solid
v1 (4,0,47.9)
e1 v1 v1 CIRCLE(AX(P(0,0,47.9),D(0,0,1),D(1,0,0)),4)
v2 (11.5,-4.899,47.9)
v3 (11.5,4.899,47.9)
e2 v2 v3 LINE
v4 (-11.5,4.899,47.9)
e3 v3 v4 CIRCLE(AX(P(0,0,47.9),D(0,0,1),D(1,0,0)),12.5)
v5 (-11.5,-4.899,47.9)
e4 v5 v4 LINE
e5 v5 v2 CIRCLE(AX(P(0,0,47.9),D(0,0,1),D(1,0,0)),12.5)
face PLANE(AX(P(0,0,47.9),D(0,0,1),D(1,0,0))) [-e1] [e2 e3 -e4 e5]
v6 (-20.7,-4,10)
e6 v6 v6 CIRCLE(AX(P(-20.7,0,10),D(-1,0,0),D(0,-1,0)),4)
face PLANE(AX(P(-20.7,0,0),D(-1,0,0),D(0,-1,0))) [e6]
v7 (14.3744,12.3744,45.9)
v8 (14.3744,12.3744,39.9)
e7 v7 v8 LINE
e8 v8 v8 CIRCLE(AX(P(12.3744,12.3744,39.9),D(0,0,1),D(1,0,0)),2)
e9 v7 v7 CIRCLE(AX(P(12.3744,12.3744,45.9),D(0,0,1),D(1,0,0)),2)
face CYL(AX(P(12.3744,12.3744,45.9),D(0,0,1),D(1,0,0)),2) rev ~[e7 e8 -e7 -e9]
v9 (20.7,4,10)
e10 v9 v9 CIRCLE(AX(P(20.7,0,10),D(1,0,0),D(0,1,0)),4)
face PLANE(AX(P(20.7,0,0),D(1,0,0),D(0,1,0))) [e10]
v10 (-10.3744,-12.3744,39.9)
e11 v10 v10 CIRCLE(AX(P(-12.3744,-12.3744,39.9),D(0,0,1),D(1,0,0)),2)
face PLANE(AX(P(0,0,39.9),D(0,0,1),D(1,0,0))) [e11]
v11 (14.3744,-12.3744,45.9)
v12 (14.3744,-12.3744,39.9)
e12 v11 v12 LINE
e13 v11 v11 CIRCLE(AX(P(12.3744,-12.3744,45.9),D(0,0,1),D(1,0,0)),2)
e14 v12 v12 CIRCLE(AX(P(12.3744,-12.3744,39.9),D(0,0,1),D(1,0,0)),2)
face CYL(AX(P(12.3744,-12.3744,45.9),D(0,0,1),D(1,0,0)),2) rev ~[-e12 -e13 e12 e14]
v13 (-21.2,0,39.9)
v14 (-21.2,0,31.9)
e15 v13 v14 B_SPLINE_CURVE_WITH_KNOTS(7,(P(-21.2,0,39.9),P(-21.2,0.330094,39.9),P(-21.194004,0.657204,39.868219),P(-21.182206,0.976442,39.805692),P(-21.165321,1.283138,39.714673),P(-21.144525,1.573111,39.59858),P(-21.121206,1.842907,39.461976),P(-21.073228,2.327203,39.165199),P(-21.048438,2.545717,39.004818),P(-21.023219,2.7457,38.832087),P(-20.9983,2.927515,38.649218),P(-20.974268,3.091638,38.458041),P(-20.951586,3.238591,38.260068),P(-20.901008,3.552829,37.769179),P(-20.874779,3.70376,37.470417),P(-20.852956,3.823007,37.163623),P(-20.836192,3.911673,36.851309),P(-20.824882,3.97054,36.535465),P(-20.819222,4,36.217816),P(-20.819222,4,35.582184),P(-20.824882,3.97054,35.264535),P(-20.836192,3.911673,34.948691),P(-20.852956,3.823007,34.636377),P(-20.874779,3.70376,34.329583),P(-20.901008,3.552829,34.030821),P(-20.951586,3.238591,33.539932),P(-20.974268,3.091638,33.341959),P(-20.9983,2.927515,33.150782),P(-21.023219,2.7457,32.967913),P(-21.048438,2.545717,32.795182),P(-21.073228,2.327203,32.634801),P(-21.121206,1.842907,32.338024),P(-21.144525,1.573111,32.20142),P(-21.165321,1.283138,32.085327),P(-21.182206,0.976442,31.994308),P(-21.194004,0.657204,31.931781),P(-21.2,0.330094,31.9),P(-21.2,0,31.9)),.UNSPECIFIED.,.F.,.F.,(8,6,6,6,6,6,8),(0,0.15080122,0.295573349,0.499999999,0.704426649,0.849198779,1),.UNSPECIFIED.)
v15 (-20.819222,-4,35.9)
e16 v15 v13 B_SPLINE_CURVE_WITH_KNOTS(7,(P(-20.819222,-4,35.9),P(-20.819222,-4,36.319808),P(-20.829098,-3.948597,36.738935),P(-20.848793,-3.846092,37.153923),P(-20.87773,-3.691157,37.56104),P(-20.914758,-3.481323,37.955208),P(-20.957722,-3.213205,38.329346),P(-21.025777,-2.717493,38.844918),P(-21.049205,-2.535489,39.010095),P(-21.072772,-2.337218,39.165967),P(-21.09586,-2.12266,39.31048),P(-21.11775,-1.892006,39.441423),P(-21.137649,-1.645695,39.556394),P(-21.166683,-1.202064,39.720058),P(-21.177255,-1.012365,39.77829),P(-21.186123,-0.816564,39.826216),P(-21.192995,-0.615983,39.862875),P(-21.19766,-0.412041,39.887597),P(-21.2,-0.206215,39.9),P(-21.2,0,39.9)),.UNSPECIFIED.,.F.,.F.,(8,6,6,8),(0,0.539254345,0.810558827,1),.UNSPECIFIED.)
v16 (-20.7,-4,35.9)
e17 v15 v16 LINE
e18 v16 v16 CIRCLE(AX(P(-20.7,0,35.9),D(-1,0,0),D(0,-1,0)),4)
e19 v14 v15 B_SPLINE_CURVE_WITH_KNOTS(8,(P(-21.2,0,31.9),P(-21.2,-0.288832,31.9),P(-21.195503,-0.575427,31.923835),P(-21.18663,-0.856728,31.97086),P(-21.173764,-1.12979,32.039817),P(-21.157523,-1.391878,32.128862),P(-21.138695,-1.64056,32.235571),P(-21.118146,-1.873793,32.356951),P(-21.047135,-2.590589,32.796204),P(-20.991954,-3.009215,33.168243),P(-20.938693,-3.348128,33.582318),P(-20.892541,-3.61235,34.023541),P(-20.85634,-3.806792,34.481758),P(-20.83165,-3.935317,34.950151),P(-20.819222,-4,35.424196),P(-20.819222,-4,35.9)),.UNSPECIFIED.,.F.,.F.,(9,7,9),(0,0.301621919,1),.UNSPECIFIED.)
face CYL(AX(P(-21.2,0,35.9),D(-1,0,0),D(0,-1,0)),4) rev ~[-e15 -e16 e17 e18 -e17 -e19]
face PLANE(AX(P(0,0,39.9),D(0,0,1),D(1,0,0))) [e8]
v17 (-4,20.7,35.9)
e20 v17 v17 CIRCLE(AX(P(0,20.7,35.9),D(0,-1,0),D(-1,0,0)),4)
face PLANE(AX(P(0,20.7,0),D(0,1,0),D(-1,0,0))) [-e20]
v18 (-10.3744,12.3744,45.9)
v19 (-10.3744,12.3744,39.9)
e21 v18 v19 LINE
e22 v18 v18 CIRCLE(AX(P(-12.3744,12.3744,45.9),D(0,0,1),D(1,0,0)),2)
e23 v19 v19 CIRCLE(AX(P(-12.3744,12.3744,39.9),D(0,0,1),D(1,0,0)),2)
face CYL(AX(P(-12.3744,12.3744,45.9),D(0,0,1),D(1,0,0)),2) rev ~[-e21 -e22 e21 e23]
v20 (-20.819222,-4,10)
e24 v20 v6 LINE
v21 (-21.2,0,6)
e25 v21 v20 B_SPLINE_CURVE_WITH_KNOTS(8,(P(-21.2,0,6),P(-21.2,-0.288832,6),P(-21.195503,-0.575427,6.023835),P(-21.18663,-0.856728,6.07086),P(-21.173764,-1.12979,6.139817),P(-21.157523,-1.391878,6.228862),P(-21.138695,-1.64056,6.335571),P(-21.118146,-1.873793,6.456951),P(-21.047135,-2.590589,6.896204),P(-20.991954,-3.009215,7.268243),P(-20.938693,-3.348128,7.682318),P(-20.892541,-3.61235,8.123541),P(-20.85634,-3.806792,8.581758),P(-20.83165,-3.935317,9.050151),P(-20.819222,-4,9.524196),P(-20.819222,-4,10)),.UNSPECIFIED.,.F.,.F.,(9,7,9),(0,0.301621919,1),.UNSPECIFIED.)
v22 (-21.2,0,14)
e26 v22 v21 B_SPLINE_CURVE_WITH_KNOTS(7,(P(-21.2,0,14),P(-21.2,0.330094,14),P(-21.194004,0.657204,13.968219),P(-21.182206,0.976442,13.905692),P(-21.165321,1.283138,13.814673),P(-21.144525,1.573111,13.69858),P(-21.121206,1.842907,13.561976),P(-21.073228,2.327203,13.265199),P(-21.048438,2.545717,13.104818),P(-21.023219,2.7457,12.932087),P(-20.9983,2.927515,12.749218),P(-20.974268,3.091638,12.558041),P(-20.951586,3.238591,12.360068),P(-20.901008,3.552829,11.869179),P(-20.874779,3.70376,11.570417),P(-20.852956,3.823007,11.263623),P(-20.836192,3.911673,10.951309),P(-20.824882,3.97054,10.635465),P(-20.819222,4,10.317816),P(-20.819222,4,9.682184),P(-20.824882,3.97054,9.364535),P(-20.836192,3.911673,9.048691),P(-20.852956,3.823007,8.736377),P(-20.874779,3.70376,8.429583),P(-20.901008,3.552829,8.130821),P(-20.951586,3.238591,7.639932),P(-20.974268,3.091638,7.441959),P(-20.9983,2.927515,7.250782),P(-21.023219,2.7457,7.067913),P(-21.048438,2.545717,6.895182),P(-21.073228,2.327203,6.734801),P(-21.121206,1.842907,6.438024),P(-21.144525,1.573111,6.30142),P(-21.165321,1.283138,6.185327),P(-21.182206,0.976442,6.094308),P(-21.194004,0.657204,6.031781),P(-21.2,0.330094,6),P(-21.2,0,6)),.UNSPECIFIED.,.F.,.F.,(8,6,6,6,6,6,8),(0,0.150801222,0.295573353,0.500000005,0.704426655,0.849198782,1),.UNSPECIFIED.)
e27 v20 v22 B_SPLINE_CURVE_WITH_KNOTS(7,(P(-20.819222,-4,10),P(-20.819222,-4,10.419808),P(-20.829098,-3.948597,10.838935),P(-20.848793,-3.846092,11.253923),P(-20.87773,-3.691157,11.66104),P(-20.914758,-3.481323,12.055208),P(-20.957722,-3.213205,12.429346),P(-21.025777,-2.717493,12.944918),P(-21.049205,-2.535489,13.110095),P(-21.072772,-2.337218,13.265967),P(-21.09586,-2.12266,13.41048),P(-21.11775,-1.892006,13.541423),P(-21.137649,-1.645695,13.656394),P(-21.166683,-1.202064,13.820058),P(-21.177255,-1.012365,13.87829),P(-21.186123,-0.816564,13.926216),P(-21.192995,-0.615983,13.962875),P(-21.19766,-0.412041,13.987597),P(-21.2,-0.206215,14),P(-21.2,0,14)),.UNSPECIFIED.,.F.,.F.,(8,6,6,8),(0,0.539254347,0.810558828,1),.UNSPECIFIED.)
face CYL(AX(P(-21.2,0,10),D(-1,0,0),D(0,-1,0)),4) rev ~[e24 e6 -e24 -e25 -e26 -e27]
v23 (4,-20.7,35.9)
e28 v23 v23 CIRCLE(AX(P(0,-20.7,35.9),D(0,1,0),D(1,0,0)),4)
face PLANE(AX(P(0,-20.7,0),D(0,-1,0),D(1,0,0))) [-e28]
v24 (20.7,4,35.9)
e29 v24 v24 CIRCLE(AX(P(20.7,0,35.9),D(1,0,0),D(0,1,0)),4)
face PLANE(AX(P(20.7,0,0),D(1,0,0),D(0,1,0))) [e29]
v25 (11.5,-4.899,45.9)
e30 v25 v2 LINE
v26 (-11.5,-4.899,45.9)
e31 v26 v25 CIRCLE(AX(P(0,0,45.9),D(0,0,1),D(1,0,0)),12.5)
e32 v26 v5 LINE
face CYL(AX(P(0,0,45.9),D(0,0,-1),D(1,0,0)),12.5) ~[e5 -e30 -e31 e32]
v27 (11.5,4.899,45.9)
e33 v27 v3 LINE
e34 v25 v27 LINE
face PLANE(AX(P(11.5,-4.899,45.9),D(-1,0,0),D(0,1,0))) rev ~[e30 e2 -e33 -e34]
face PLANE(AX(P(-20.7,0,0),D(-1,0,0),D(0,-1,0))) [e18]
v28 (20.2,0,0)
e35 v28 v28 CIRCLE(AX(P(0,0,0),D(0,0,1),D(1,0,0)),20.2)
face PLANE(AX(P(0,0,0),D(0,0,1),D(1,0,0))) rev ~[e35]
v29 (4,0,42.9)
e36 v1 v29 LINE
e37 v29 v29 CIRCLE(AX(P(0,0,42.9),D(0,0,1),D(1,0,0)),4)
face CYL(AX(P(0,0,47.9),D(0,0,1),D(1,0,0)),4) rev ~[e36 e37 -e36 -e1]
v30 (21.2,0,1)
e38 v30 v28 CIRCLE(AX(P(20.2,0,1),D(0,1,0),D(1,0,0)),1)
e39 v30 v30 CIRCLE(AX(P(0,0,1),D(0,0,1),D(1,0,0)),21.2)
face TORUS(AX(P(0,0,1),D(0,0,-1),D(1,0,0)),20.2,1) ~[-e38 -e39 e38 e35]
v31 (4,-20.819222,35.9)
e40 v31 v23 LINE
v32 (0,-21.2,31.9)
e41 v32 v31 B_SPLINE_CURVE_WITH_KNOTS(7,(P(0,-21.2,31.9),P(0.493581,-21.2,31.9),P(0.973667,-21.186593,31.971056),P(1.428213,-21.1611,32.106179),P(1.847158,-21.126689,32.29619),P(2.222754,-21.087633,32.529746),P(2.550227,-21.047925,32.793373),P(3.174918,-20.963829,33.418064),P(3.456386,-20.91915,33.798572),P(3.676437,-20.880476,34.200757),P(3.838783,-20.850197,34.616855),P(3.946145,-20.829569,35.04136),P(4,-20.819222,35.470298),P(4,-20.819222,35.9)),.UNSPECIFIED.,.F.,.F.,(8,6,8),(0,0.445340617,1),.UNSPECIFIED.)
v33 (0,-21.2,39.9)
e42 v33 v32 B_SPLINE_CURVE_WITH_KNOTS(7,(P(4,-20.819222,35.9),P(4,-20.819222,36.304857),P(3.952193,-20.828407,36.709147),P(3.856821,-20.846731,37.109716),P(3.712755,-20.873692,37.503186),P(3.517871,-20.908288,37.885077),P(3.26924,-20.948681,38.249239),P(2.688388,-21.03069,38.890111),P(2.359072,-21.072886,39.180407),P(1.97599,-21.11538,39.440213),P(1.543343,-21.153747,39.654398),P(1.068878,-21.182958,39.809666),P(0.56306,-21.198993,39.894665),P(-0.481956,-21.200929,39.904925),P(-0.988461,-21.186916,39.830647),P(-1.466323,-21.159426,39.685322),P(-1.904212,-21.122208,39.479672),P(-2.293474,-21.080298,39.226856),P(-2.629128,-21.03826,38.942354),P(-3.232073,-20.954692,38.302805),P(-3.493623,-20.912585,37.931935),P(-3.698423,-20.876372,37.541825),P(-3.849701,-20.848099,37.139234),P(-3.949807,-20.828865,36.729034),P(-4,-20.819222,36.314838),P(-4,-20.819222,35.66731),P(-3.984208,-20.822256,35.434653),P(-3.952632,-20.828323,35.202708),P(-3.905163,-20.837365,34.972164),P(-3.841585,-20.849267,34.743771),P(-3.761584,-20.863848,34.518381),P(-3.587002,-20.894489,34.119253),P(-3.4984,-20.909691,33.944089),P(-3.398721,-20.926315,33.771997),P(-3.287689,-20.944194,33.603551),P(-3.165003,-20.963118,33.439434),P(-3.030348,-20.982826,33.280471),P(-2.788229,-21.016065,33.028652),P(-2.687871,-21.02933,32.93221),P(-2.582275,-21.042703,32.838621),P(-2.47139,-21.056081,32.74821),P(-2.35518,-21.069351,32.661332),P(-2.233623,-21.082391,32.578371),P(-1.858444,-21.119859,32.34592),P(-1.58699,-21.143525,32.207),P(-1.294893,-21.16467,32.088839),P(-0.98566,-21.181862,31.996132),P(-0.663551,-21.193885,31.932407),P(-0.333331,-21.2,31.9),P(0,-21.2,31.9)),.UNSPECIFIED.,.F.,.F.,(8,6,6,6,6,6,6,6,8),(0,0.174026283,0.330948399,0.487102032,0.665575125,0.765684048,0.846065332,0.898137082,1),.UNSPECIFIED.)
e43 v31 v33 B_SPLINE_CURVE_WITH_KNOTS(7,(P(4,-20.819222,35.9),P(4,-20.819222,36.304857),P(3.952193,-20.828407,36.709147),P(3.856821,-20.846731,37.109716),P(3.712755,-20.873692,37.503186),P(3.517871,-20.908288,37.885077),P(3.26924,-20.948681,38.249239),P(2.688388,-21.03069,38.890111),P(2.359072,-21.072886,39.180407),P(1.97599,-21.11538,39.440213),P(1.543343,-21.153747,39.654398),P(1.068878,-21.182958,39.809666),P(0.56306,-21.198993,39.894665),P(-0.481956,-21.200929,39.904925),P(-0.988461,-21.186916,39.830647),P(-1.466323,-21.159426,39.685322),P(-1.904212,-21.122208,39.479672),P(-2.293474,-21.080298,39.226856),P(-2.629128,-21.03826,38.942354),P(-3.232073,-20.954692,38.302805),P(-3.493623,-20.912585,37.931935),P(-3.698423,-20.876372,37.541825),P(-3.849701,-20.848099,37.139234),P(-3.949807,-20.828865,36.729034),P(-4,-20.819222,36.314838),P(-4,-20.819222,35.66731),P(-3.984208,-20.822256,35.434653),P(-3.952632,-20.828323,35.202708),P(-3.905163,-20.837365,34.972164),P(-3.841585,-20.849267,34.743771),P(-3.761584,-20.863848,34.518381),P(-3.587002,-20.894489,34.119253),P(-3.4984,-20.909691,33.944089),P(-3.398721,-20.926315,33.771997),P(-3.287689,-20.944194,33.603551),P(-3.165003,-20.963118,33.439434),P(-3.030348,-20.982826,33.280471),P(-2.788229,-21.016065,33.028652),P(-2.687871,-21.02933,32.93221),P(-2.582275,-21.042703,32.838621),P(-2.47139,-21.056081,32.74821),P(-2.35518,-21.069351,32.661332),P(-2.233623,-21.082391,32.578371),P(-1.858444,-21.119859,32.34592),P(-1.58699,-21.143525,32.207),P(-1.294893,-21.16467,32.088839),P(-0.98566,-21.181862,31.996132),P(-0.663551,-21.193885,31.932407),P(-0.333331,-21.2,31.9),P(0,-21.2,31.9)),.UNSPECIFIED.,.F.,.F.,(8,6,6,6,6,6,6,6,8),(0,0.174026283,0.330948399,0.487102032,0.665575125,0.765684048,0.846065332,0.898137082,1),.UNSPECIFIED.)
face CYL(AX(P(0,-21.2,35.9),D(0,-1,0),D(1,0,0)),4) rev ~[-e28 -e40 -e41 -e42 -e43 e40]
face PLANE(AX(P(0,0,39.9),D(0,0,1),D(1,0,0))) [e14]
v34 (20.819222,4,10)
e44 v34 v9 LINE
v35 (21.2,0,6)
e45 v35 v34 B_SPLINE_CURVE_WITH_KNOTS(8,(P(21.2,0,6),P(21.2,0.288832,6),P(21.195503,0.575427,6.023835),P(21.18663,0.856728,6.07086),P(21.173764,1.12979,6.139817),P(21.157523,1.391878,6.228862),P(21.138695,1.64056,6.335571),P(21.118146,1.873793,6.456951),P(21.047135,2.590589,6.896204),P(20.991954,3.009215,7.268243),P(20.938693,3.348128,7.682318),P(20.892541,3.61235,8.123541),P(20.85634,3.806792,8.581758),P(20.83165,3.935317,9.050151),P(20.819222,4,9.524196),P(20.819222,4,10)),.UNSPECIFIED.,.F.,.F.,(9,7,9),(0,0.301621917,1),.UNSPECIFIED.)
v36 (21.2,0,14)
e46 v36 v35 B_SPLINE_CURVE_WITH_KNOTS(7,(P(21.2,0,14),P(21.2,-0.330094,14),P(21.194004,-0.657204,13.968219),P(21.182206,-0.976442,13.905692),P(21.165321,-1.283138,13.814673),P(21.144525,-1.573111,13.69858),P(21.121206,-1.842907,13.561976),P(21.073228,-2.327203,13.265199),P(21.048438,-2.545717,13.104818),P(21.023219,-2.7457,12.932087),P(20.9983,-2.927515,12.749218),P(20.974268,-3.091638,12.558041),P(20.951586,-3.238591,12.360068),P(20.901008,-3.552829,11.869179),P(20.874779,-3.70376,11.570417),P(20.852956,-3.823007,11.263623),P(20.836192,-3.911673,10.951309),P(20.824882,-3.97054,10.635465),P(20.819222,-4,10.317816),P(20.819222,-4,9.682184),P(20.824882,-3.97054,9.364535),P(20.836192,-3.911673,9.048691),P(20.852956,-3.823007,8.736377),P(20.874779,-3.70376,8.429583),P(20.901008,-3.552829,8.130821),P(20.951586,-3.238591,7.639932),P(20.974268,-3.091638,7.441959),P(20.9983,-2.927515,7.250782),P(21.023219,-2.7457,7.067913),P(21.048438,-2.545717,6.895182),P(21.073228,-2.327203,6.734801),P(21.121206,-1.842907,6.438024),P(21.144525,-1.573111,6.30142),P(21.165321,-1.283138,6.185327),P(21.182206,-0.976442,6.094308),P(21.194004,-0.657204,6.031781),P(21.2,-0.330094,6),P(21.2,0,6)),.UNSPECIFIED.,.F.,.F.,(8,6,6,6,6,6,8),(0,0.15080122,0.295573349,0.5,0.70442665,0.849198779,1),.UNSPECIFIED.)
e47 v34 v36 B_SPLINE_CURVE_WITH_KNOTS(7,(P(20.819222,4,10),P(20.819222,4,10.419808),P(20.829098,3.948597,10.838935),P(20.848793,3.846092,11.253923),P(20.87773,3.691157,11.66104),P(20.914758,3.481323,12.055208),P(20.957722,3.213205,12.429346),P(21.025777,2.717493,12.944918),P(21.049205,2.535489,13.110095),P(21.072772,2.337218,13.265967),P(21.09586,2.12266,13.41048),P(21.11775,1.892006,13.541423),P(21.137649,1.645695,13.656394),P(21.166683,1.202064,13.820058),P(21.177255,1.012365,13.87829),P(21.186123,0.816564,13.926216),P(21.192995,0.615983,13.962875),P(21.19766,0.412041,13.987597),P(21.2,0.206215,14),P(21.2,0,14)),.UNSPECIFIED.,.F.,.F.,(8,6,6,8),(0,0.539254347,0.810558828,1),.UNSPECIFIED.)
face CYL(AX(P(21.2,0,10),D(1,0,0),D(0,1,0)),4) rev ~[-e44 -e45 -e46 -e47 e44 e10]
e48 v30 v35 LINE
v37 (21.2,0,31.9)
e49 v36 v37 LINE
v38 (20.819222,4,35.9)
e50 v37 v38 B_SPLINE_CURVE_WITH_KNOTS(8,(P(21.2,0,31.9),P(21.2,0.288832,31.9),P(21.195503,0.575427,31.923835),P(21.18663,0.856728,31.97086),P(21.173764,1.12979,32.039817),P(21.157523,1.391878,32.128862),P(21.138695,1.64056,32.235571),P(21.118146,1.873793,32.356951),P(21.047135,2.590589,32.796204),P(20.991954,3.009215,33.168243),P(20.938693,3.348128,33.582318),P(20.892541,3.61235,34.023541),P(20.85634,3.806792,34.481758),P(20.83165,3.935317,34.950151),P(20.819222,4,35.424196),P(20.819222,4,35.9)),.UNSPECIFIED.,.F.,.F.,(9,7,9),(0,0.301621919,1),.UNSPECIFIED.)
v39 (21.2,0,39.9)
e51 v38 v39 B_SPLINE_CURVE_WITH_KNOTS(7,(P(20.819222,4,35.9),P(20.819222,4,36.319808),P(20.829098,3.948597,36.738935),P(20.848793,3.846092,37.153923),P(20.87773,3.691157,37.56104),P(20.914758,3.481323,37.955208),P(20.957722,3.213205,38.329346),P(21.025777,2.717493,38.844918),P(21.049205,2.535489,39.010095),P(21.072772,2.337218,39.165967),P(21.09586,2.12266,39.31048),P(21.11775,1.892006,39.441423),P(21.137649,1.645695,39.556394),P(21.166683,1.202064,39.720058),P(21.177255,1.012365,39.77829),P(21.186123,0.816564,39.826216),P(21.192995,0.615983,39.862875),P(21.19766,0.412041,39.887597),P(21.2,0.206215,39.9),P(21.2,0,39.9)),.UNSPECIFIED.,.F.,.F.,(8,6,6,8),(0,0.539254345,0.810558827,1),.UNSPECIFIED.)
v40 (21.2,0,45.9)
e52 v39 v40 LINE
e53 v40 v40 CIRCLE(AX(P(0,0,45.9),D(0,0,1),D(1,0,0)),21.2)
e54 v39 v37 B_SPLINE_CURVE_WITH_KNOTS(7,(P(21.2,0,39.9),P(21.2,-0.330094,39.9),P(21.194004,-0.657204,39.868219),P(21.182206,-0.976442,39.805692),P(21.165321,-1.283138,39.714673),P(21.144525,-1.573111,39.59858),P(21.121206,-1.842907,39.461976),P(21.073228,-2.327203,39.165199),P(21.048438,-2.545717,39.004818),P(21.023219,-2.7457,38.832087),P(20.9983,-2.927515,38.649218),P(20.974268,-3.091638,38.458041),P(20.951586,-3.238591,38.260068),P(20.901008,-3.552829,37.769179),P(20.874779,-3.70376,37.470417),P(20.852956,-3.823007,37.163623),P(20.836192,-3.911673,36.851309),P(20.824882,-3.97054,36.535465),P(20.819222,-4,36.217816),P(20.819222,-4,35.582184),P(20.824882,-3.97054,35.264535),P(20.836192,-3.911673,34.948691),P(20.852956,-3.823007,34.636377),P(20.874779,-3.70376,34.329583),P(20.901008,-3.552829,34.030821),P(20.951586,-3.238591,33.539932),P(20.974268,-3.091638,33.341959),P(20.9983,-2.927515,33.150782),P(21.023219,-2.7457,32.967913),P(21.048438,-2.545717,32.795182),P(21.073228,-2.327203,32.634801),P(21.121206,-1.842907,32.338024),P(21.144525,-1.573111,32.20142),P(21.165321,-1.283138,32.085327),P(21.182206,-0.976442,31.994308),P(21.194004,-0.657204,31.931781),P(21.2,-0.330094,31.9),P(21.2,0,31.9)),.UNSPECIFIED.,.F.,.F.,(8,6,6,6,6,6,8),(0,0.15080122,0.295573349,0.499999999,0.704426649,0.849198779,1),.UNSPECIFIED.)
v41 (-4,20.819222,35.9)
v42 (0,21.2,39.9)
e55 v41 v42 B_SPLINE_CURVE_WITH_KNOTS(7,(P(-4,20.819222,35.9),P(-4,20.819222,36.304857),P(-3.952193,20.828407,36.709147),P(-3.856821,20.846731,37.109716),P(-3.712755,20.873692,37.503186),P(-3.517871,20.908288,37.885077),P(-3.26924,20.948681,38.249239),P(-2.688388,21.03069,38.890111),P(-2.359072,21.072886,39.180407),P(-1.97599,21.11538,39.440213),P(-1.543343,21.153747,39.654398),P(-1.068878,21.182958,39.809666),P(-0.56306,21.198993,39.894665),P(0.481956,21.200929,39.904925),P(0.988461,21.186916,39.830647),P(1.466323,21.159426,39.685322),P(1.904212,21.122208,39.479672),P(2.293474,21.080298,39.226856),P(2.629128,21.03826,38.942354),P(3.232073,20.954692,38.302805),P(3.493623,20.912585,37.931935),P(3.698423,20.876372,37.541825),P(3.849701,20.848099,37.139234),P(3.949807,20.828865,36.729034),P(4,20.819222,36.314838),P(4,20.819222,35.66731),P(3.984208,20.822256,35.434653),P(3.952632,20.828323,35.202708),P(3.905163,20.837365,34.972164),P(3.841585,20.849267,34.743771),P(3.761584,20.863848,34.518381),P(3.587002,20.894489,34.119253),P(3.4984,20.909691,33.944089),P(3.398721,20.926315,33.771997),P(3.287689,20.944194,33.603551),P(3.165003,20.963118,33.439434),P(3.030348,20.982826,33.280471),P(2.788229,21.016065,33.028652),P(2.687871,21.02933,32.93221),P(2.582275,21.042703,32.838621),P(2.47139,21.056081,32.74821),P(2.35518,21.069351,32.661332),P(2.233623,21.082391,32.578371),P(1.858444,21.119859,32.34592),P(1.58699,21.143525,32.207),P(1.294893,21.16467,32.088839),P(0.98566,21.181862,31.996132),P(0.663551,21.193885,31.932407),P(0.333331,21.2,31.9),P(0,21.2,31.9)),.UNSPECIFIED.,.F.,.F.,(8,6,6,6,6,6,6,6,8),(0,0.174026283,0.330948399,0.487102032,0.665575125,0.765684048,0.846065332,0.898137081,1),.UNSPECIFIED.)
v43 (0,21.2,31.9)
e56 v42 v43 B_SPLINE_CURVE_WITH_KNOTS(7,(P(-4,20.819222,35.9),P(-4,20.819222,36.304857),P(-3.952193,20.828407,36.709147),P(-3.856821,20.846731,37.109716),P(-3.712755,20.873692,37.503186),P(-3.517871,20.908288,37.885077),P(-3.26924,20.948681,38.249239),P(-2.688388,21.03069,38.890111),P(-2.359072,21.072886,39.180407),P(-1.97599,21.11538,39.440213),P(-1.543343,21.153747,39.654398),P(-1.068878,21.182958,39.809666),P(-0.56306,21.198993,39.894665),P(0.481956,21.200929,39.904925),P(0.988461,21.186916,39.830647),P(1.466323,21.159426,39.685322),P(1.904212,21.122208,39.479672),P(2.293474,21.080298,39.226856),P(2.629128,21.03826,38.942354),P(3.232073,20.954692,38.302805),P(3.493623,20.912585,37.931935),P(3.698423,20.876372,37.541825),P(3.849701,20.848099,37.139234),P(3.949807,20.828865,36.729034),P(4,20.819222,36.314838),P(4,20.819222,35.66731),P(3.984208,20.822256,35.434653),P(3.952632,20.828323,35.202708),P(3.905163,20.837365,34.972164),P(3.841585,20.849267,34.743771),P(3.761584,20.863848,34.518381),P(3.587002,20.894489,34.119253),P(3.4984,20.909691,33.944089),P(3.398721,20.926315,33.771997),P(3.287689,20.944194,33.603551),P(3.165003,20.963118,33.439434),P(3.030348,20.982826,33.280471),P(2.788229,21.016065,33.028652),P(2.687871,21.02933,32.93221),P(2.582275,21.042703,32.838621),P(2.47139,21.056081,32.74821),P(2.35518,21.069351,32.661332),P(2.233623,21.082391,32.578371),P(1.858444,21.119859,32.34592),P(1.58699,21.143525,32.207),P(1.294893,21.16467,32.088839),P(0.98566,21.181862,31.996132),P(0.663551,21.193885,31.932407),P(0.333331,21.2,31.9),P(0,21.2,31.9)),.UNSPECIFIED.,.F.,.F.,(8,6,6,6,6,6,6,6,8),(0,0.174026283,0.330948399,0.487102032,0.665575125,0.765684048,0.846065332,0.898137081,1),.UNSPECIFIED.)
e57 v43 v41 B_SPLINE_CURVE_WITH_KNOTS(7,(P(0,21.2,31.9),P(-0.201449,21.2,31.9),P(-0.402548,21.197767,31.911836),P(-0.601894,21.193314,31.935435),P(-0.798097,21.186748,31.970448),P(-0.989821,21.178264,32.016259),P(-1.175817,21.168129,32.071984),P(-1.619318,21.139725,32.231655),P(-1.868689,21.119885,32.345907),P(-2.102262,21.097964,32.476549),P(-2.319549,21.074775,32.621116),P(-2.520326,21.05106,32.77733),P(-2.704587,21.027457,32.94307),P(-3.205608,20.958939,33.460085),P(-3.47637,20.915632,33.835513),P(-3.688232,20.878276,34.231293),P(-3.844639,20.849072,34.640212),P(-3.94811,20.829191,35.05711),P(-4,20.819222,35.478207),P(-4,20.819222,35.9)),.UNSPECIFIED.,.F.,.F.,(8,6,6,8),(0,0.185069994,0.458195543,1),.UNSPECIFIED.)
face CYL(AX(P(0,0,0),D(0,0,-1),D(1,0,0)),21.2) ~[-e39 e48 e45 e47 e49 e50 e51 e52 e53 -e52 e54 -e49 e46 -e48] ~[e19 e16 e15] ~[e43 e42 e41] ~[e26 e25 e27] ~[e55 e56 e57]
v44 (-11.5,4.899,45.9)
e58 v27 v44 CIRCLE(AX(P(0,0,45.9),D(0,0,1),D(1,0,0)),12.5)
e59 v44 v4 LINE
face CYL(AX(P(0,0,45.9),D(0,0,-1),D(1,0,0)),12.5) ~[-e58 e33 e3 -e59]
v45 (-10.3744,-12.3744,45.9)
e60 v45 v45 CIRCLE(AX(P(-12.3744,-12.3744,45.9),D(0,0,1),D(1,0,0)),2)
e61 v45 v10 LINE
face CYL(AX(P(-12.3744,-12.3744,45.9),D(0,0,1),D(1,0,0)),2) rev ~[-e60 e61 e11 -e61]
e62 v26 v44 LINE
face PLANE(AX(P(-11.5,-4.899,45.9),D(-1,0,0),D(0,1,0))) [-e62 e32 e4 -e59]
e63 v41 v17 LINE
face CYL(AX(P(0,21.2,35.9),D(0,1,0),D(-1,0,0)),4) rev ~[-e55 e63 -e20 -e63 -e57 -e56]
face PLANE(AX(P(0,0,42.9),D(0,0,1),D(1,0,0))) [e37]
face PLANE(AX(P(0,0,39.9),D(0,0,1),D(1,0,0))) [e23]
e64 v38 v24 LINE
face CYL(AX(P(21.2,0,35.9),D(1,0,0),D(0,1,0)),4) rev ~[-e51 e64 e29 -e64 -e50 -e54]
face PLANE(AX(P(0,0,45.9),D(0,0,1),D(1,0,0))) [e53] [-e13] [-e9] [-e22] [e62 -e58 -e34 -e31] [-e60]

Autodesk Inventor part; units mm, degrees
ref_plane "YZ Plane" through (0, 0, 0) normal (1, 0, 0) x (0, 1, 0)
sketch "스케치1" plane through (0, 0, 0) normal (0, 0, 1) x (1, 0, 0)
  circle A0 centre (0, 0) radius 21.2
  dimension "d0" = 42.4
extrude "돌출1" add sketch "스케치1" along normal blind 45.9
sketch "스케치2" plane through (0, 0, 45.9) normal (0, 0, 1) x (1, 0, 0)
  circle A0 centre (0, 0) radius 12.5
  line L0 (-11.5, -4.899) -> (-11.5, 4.899)
  line L1 (11.5, -4.899) -> (11.5, 4.899)
  line L2 (0, 0) -> (17.5, 0) construction
  circle A1 centre (12.3744, -12.3744) radius 2
  circle A2 centre (12.3744, 12.3744) radius 2
  circle A3 centre (-12.3744, 12.3744) radius 2
  circle A4 centre (-12.3744, -12.3744) radius 2
  dimension "d5" = 360
extrude "돌출2" cut sketch "스케치2" against normal blind 6 contours A1 | A2 | A3 | A4
sketch "스케치3" plane through (0, 0, 45.9) normal (0, 0, 1) x (1, 0, 0)
  circle A0 centre (0, 0) radius 12.5
  line L0 (-11.5, -4.899) -> (-11.5, 4.899)
  line L1 (11.5, -4.899) -> (11.5, 4.899)
  line L2 (0, 0) -> (17.5, 0) construction
  circle A1 centre (12.3744, -12.3744) radius 2
  circle A2 centre (12.3744, 12.3744) radius 2
  circle A3 centre (-12.3744, 12.3744) radius 2
  circle A4 centre (-12.3744, -12.3744) radius 2
  dimension "d10" = 360
extrude "돌출3" add sketch "스케치3" along normal blind 2 contours L1 A0 L0
sketch "스케치4" plane through (0, 0, 47.9) normal (0, 0, 1) x (1, 0, 0)
  circle A0 centre (0, 0) radius 4
  dimension "d13" = 8
extrude "돌출4" cut sketch "스케치4" against normal blind 5
ref_plane "작업 평면1" through (21.2, 0, 0) normal (1, 0, 0) x (0, 1, 0)
sketch "스케치5" plane through (21.2, 0, 0) normal (1, 0, 0) x (0, 1, 0)
  line L0 (21.2, 45.9) -> (-21.2, 45.9) projected
  line L1 (21.2, 0) -> (-21.2, 0) projected
  line L2 (-4.899, 45.9) -> (4.899, 45.9) projected
  line L3 (0, 45.9) -> (0, 35.9)
  line L4 (0, 35.9) -> (0, 10)
  circle A0 centre (0, 10) radius 4
  circle A1 centre (0, 35.9) radius 4
  point P0 (0, 0)
  dimension "d16" = 10
  dimension "d17" = 25.9
  dimension "d18" = 8
extrude "돌출5" cut sketch "스케치5" against normal blind 0.5
ref_plane "작업 평면5" through (0, 21.2, 0) normal (0, 1, 0) x (-1, 0, 0)
sketch "스케치7" plane through (0, 21.2, 0) normal (0, 1, 0) x (-1, 0, 0)
  line L0 (0, 0) -> (0, 35.9)
  line L1 (-11.5, 45.9) -> (11.5, 45.9) projected
  circle A0 centre (0, 35.9) radius 4
  dimension "d28" = 35.9
  dimension "d29" = 8
extrude "돌출7" cut sketch "스케치7" against normal blind 0.5
pattern_circular "원형 패턴2" count 2 over 360 about axis through (0, 0, 0) along (0, 0, 1) of "돌출5", "돌출7"
fillet "모깎기1" radius 1 1 edges at (-21.2, 0, 0)
properties part number "gear(49ratio)"
